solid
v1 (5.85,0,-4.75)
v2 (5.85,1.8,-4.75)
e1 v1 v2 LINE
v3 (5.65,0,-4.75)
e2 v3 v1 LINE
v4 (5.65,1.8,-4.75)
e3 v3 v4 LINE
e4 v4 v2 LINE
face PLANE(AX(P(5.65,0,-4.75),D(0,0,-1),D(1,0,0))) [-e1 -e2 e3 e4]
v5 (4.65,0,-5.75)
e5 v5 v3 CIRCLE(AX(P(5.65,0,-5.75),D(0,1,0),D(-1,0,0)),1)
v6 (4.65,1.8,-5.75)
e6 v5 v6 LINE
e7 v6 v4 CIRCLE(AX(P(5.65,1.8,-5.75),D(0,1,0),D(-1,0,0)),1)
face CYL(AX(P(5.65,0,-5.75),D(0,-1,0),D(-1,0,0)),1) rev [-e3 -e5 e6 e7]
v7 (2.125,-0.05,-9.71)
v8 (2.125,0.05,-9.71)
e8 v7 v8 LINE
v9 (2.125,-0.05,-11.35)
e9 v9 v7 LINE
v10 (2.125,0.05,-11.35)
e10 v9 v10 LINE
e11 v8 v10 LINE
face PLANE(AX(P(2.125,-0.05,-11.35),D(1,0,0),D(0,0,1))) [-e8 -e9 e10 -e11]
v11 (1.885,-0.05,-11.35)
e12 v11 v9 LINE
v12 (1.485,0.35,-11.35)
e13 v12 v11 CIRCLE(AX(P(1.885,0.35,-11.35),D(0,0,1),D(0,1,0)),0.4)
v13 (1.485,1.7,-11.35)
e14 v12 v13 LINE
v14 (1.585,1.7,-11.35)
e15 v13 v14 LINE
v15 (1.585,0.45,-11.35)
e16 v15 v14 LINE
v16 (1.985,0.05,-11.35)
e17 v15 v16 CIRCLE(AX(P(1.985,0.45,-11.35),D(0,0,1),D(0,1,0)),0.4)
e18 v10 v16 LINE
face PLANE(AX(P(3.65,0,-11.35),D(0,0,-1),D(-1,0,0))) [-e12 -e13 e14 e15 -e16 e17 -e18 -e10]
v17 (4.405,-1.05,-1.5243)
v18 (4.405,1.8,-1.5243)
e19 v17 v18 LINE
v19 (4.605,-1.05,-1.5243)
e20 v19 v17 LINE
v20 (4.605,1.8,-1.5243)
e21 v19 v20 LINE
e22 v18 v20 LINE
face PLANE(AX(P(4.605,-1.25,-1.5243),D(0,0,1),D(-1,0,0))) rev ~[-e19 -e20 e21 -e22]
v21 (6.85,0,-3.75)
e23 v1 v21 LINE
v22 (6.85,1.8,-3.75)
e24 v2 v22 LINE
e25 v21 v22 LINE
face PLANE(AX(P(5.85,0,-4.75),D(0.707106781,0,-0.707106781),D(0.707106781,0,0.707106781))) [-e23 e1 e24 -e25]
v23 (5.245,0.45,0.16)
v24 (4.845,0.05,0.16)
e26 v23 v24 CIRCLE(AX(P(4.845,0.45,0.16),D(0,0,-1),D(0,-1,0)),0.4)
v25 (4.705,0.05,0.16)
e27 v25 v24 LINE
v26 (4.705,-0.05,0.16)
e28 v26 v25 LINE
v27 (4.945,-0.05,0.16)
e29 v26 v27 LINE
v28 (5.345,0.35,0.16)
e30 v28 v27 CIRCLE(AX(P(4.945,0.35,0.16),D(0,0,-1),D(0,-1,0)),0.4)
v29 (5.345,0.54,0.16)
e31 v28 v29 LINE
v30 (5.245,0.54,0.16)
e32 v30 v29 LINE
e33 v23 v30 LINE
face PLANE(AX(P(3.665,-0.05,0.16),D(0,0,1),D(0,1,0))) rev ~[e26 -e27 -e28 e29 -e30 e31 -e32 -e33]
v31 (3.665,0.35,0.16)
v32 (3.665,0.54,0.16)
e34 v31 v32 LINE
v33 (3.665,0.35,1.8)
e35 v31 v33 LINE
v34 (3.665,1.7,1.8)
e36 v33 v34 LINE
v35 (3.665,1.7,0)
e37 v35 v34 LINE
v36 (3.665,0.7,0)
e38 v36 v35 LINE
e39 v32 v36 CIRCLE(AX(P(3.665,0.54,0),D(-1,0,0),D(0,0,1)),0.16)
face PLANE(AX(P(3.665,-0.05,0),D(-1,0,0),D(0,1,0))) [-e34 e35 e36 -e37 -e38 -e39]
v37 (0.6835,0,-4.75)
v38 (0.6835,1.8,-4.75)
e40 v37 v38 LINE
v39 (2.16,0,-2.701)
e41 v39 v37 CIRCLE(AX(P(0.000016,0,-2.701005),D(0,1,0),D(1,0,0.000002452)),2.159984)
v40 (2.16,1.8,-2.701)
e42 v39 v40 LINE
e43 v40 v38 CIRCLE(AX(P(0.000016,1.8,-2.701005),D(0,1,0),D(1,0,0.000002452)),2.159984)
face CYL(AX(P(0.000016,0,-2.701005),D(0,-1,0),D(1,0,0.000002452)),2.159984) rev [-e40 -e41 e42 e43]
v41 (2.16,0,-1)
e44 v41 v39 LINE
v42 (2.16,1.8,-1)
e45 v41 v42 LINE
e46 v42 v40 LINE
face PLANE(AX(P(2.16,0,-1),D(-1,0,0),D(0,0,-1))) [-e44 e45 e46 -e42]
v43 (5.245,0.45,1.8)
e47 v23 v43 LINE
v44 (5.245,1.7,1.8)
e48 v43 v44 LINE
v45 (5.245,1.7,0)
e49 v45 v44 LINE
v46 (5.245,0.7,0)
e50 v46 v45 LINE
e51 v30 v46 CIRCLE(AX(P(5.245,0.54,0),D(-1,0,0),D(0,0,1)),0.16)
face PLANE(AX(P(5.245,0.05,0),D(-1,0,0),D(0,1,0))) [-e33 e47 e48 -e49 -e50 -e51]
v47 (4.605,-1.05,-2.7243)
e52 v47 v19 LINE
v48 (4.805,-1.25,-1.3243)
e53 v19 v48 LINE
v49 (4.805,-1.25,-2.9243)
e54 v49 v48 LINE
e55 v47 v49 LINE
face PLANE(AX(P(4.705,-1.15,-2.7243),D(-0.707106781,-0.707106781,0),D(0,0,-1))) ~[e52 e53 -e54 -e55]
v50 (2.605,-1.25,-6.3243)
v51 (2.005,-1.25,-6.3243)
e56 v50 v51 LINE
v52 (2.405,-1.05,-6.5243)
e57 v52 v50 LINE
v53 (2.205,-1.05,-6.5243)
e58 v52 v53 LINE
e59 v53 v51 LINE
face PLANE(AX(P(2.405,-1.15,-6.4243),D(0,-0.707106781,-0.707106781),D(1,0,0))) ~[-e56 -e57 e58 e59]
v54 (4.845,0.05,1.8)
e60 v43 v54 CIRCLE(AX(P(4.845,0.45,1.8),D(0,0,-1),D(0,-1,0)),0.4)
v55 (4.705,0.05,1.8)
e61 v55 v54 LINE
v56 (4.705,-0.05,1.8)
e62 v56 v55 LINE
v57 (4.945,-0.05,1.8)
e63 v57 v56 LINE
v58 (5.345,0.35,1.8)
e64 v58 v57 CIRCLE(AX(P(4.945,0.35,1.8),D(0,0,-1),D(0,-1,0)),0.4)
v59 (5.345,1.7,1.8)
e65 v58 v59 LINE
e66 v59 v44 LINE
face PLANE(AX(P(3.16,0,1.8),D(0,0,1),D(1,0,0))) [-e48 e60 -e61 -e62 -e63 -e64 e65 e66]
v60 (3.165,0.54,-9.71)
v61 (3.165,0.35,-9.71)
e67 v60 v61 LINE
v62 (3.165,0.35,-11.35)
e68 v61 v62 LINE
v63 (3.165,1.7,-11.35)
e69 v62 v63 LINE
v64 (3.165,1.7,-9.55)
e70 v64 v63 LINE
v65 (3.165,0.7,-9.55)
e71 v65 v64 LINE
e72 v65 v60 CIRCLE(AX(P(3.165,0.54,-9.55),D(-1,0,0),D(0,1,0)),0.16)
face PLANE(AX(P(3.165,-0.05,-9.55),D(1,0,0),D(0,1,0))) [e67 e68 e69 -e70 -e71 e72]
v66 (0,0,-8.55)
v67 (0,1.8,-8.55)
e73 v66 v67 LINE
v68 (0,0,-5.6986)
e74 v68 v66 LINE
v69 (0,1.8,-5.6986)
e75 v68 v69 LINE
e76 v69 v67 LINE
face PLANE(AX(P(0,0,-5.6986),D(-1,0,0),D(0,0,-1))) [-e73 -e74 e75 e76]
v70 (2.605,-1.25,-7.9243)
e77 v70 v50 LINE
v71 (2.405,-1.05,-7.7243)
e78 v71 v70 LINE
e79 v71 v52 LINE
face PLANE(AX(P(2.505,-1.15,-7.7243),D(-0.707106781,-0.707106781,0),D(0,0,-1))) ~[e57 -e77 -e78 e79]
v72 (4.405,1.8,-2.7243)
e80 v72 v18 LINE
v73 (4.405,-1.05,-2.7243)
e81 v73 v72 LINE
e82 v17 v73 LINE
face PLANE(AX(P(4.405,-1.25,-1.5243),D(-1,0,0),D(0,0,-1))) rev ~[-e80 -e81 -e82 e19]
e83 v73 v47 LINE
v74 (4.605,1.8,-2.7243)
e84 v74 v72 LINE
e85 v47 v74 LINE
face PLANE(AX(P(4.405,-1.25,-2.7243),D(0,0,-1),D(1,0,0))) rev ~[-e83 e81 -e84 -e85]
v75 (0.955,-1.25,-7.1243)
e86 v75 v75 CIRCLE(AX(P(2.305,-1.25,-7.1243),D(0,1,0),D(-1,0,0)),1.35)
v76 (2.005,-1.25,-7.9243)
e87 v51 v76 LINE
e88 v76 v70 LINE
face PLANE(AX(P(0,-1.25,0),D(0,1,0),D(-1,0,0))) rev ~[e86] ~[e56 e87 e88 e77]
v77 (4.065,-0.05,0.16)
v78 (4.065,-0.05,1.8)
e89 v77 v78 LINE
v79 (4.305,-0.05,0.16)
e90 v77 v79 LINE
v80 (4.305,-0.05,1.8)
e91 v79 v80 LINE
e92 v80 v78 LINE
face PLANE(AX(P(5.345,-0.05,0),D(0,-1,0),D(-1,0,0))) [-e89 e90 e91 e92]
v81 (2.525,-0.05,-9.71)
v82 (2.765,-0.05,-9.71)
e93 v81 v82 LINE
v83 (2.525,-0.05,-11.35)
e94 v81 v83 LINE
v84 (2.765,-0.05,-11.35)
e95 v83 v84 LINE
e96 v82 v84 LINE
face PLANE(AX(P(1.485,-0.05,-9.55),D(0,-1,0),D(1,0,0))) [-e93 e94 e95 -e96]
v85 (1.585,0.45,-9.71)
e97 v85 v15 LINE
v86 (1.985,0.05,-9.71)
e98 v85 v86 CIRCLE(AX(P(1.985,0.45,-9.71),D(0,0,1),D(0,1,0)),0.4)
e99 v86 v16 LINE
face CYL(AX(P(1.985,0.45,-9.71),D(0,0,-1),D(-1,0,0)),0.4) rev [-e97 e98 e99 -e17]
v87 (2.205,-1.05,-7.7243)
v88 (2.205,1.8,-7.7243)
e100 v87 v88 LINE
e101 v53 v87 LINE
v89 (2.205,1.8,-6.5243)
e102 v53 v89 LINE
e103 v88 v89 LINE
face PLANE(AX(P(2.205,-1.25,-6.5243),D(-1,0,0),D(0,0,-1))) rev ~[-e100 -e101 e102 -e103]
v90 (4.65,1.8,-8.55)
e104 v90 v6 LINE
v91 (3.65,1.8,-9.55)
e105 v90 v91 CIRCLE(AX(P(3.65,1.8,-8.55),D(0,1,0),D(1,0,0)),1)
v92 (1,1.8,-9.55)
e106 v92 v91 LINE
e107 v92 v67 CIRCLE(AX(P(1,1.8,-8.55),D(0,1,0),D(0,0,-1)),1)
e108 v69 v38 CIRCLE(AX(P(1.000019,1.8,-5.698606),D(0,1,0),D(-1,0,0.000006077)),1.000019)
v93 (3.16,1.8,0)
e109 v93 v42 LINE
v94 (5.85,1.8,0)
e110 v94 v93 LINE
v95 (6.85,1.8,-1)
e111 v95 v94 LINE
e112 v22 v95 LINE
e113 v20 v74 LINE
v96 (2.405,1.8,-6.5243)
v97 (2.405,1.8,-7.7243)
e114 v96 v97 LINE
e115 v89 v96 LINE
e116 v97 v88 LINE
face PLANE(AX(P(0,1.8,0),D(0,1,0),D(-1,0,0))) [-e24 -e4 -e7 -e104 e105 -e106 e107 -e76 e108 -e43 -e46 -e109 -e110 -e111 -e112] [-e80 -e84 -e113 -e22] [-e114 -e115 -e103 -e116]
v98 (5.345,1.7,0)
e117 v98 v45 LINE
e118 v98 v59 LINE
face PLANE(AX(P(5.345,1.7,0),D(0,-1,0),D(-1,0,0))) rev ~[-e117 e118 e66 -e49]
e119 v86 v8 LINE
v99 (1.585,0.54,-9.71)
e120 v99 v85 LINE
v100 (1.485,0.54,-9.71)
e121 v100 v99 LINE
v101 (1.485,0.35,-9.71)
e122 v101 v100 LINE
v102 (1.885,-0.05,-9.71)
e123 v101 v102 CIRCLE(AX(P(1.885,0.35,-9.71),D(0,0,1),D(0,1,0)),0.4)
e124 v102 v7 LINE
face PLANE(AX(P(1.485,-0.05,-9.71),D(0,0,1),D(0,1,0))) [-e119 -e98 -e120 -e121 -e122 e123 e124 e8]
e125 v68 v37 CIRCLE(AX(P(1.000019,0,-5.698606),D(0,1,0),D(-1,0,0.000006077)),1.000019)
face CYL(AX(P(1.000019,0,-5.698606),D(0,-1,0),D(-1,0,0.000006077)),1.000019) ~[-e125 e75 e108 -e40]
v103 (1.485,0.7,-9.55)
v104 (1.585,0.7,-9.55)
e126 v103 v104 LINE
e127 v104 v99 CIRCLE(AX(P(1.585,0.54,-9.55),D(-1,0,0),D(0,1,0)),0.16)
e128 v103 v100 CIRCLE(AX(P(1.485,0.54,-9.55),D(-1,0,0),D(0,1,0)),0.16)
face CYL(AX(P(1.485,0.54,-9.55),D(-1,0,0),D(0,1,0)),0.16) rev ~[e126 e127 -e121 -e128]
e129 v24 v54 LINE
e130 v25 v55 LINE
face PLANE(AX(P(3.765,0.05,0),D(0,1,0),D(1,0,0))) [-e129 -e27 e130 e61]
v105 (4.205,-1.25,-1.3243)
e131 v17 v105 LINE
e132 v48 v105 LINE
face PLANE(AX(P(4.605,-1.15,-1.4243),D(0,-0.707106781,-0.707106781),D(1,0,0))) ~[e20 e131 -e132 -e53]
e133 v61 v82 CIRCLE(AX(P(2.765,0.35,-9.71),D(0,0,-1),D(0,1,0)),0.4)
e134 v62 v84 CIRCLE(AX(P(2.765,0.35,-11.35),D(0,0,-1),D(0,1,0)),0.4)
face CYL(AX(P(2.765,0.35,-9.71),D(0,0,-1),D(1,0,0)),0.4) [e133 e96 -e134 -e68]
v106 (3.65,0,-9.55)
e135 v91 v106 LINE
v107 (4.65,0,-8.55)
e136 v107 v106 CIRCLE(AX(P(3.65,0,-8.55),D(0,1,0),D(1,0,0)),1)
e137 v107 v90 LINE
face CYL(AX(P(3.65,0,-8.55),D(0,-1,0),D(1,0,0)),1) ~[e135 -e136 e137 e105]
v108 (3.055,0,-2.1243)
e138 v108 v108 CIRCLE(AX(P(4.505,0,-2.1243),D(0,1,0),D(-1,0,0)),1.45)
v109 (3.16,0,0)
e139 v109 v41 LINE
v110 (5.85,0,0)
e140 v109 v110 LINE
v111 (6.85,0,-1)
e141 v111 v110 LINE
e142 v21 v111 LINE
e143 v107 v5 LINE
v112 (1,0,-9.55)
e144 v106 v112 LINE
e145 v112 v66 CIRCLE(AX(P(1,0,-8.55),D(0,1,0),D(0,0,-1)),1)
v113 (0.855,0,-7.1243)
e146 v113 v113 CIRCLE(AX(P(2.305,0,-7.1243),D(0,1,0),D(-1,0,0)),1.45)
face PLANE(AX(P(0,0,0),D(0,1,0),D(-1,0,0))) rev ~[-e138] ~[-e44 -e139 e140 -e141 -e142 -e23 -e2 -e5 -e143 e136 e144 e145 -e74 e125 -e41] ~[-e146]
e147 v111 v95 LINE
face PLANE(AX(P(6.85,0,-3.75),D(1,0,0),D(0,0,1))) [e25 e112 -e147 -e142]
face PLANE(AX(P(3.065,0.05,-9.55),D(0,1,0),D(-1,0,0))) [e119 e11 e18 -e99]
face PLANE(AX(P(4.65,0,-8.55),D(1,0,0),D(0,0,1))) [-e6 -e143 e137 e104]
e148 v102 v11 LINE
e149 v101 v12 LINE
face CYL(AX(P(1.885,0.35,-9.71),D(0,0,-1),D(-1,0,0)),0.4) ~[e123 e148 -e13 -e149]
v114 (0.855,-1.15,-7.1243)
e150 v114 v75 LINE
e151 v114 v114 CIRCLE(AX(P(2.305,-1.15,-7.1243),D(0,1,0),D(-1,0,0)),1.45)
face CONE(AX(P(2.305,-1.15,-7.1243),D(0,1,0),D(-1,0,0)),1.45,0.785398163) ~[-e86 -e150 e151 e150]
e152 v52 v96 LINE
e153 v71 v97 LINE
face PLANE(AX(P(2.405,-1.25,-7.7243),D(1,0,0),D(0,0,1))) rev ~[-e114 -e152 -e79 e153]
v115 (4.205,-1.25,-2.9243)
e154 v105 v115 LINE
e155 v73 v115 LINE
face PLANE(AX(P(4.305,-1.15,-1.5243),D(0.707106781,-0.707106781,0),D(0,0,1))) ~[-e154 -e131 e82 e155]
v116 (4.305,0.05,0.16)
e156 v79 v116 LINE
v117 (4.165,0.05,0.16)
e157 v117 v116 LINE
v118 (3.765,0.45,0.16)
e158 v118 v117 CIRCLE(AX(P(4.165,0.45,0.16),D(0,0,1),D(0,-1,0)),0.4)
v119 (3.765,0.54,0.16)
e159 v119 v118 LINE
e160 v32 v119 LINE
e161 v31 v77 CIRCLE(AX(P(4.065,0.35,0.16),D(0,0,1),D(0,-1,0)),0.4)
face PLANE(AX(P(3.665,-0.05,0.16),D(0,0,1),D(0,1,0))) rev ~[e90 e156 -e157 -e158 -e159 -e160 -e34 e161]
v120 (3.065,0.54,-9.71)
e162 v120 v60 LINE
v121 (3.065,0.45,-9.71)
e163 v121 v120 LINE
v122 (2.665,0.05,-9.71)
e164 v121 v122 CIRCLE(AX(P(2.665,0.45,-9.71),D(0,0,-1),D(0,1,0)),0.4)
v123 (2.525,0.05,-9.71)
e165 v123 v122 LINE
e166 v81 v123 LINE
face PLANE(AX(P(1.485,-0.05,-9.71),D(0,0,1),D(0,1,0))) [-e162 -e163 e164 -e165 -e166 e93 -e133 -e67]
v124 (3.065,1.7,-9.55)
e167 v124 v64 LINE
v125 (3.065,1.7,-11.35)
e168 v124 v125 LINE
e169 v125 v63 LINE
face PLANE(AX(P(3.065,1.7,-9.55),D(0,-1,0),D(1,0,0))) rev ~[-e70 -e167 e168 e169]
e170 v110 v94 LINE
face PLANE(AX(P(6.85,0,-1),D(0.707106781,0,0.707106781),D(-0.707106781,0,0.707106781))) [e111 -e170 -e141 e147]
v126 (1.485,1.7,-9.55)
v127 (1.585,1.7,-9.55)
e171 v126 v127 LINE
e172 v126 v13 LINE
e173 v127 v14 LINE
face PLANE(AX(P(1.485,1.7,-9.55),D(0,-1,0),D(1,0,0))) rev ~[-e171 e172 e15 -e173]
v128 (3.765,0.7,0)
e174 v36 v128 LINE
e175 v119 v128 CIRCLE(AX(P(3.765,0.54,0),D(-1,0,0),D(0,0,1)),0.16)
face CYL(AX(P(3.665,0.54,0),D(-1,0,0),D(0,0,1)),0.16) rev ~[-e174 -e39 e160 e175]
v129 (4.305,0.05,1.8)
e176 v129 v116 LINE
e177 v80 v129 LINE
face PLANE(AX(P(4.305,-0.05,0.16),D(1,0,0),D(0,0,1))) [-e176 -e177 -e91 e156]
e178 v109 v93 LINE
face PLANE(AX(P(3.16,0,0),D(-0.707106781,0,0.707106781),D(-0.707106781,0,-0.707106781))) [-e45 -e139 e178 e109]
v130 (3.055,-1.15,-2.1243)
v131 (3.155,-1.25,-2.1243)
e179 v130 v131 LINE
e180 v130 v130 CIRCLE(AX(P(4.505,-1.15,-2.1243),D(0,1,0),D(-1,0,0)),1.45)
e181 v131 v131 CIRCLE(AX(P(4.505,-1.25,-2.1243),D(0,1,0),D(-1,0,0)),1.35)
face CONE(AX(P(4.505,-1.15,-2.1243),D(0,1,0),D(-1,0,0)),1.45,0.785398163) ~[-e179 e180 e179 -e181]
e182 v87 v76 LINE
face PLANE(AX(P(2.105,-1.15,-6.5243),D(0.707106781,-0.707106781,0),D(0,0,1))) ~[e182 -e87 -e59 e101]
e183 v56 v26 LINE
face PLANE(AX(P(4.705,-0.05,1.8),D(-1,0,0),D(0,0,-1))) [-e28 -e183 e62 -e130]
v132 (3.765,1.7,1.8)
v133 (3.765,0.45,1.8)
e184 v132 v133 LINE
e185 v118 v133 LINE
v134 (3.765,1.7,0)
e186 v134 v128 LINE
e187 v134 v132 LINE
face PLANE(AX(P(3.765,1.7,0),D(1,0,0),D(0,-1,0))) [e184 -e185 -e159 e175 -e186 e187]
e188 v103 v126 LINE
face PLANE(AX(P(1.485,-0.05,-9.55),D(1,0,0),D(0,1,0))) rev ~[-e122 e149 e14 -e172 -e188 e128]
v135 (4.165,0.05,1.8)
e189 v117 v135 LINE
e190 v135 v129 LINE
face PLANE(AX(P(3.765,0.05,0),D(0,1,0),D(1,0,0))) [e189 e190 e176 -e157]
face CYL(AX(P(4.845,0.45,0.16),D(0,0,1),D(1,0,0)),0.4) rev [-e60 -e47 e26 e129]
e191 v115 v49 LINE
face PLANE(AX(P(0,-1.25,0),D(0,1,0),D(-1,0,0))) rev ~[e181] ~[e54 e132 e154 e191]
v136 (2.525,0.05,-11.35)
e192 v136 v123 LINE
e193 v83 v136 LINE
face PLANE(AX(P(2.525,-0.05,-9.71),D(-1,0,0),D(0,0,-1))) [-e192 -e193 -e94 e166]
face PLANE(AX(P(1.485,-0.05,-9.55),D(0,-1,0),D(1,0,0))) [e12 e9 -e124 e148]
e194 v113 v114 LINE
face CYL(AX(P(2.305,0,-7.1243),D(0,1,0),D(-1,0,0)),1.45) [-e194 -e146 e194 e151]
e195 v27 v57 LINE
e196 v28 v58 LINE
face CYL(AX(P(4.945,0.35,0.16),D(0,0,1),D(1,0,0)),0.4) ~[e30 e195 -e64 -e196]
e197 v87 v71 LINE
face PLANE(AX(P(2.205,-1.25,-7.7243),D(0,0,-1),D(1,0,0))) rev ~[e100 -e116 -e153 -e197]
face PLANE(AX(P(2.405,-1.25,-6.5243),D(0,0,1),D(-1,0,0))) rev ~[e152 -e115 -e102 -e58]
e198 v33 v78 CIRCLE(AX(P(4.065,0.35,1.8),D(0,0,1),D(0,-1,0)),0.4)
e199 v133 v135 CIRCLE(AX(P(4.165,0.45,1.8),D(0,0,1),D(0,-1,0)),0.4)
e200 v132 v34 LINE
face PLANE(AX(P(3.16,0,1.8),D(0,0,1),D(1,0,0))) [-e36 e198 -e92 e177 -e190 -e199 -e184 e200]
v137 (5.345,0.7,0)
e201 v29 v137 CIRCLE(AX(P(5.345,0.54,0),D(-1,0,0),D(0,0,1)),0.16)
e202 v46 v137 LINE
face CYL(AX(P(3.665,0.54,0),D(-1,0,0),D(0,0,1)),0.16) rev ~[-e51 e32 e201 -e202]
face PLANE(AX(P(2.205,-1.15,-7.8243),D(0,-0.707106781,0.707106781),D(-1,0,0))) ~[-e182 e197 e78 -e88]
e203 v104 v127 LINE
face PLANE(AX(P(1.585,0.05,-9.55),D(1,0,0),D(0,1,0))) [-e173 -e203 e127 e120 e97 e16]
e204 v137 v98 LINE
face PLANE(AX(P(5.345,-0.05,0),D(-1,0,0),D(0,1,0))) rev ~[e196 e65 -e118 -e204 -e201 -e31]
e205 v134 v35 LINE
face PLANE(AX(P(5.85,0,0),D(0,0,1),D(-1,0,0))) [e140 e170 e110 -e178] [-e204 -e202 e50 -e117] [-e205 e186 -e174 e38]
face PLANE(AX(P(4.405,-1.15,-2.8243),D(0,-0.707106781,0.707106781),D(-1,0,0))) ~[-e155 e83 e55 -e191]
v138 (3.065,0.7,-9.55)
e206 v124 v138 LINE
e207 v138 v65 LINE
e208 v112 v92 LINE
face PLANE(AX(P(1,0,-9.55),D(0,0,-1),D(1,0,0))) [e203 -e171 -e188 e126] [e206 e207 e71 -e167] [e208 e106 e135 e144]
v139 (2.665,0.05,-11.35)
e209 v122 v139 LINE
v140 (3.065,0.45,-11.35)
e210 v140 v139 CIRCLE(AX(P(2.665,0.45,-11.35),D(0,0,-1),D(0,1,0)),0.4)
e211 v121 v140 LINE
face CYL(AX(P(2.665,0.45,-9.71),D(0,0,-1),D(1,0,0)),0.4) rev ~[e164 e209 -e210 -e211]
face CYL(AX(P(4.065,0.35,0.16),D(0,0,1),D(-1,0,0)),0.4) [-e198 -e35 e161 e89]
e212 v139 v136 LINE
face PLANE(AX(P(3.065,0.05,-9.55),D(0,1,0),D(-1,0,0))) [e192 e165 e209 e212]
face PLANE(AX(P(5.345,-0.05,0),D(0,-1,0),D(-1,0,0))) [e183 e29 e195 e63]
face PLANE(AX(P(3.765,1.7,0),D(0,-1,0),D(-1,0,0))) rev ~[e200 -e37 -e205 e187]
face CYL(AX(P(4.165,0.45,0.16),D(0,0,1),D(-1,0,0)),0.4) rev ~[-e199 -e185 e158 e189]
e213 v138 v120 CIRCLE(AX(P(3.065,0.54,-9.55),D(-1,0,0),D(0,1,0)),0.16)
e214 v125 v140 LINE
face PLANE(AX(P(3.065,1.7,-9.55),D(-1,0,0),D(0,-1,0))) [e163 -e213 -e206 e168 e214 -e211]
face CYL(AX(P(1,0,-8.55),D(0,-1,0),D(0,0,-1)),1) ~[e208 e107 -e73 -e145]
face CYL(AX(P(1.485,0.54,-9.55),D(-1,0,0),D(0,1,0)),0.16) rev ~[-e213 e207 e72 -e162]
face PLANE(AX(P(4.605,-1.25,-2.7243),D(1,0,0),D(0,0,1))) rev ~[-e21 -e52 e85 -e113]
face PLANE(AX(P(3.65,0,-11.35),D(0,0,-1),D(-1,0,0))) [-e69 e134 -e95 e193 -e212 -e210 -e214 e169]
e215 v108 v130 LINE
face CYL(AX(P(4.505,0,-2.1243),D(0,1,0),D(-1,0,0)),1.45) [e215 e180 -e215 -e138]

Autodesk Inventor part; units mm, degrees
ref_plane "YZ Plane" through (0, 0, 0) normal (1, 0, 0) x (0, 1, 0)
ref_plane "XZ Plane" through (0, 0, 0) normal (0, 1, 0) x (-1, 0, 0)
ref_plane "XY Plane" through (0, 0, 0) normal (0, 0, 1) x (1, 0, 0)
sketch "Sketch1" plane through (0, 0, 0) normal (0, 1, 0) x (-1, 0, 0)
  line L0 (0, 0) -> (-3.16, 0)
  line L1 (-3.16, 0) -> (-2.16, -1)
  line L2 (-2.16, -1) -> (-2.16, -2.701)
  arc A0 (-2.16, -2.701) -> (-0.6835, -4.75) centre (0, -2.701) ccw
  line L3 (0, -5.6986) -> (0, -8.55)
  line L4 (-1, -9.55) -> (-3.65, -9.55)
  line L5 (-4.65, -8.55) -> (-4.65, -5.75)
  line L6 (-5.65, -4.75) -> (-5.85, -4.75)
  line L7 (-5.85, -4.75) -> (-6.85, -3.75)
  line L8 (-6.85, -3.75) -> (-6.85, -1)
  line L9 (-6.85, -1) -> (-5.85, 0)
  line L10 (-5.85, 0) -> (-3.16, 0)
  circle A1 centre (-4.505, -2.1243) radius 1.45
  circle A2 centre (-2.305, -7.1243) radius 1.45
  arc A3 (0, -5.6986) -> (-0.6835, -4.75) centre (-1, -5.6986) ccw
  arc A4 (-4.65, -5.75) -> (-5.65, -4.75) centre (-5.65, -5.75) ccw
  arc A5 (-1, -9.55) -> (0, -8.55) centre (-1, -8.55) ccw
  arc A6 (-4.65, -8.55) -> (-3.65, -9.55) centre (-3.65, -8.55) ccw
  point P0 (0, -4.861)
  point P1 (-4.65, -7.15)
  point P2 (-4.505, 0)
  point P3 (-5.75, -4.75)
  point P4 (0, -7.1243)
  dimension "d0" = 5
  dimension "d1" = 2.2
  dimension "d2" = 2.9
  dimension "d3" = 4.75
  dimension "d4" = 4.65
  dimension "d6" = 4.69
  dimension "d8" = 6.85
  dimension "d9" = 9.55
  dimension "d10" = 135
  dimension "d11" = 135
  dimension "d12" = 135
  dimension "d13" = 1
  dimension "d14" = 1
  dimension "d70" = 2.75
extrude "Extrusion1" add sketch "Sketch1" along normal blind 1.8 contours L1 L2 A0 A3 L3 A5 L4 A6 L5 A4 L6 L7 L8 L9 L10 | A1 | A2
extrude "Extrusion2" add sketch "Sketch1" against normal blind 1.25 contours A1 | A2
chamfer "Chamfer1" distance 0.1 angle 45 2 edges at (5.955, -1.25, -2.1243) (3.755, -1.25, -7.1243)
sketch "Sketch2" plane through (3.16, 0, 0) normal (0, 0, 1) x (1, 0, 0)
  line L0 (1.49, 1.8) -> (2.49, 1.8) projected
  line L1 (2.185, -0.05) -> (0.505, -0.05)
  line L2 (0.49, 0) -> (0.49, 1.8) projected
  line L3 (2.69, 0) -> (2.69, 1.8) projected
  line L4 (0, 0) -> (0, 1.8) projected
  line L5 (0, 1.8) -> (2.69, 1.8) projected
  line L6 (2.185, -0.05) -> (2.185, 1.7)
  line L7 (0.505, -0.05) -> (0.505, 1.7)
  line L8 (0.605, 1.7) -> (0.605, 0.05)
  line L9 (0.605, 0.05) -> (2.085, 0.05)
  line L10 (2.085, 0.05) -> (2.085, 1.7)
  line L11 (2.185, 1.7) -> (2.085, 1.7)
  line L12 (0.605, 1.7) -> (0.505, 1.7)
  point P0 (-3.16, 0)
  dimension "d24" = 1.68
  dimension "d26" = 1.85
  dimension "d27" = 0.1
  dimension "d28" = 0.505
  dimension "d29" = 0.505
  dimension "d30" = 0.1
  dimension "d31" = 0.1
extrude "Extrusion3" add sketch "Sketch2" along normal blind 1.8
sketch "Sketch3" plane through (3.665, 0, 0) normal (-1, 0, 0) x (0, 0, 1)
  line L0 (0, -0.05) -> (1.8, -0.05) projected
  line L1 (0.16, -0.05) -> (0.16, 0.54)
  line L2 (0, 0) -> (0, 1.7) projected
  arc A0 (0.16, 0.54) -> (0, 0.7) centre (0, 0.54) ccw
  line L3 (0, 0) -> (0, 1.8) projected
  line L4 (0, 0) -> (0, 1.7) projected
  line L5 (0, 0) -> (0, -0.05) projected
  line L6 (0, -0.05) -> (1.8, -0.05) projected
  line L7 (1.8, 1.7) -> (1.8, -0.05) projected
  line L8 (0, 1.7) -> (1.8, 1.7) projected
  point P0 (0, 0)
  point P1 (0, -0.05)
  dimension "d34" = 0.16
  dimension "d54" = 0.75
extrude "Extrusion4" cut sketch "Sketch3" against normal through all contours L5 L2 A0 L1 L0
sketch "Sketch4" plane through (3.65, 0, -9.55) normal (0, 0, -1) x (-1, 0, 0)
  line L0 (2.165, -0.05) -> (0.485, -0.05)
  line L1 (2.165, -0.05) -> (2.165, 1.7)
  line L2 (0.485, -0.05) -> (0.485, 1.7)
  line L3 (0.585, 1.7) -> (0.585, 0.05)
  line L4 (0.585, 0.05) -> (2.065, 0.05)
  line L5 (2.065, 0.05) -> (2.065, 1.7)
  line L6 (2.165, 1.7) -> (2.065, 1.7)
  line L7 (0.585, 1.7) -> (0.485, 1.7)
  line L8 (2.65, 0) -> (2.65, 1.8) projected
  line L9 (0, 1.8) -> (2.65, 1.8) projected
  line L10 (0, 0) -> (0, 1.8) projected
  point P0 (3.65, 0)
  dimension "d37" = 1.68
  dimension "d42" = 0.1
  dimension "d43" = 0.1
  dimension "d44" = 0.485
  dimension "d45" = 0.485
  dimension "d46" = 1.85
  dimension "d47" = 0.1
extrude "Extrusion5" add sketch "Sketch4" along normal blind 1.8
sketch "Sketch5" plane through (1.485, 0, -9.55) normal (-1, 0, 0) x (0, 0, 1)
  line L0 (0, -0.05) -> (0, 0) projected
  line L1 (0, 1.7) -> (0, 0) projected
  line L2 (0, 1.7) -> (-1.8, 1.7) projected
  line L3 (-1.8, -0.05) -> (-1.8, 1.7) projected
  line L4 (0, -0.05) -> (-1.8, -0.05) projected
  line L5 (-0.16, -0.05) -> (-0.16, 0.54)
  arc A0 (0, 0.7) -> (-0.16, 0.54) centre (0, 0.54) ccw
  point P0 (9.55, 0)
  point P1 (-1.867, -0.613)
  point P2 (-1.867, -0.6608)
  point P3 (0, -0.025)
  dimension "d51" = 0.16
  dimension "d55" = 0.75
extrude "Extrusion6" cut sketch "Sketch5" against normal through all contours L4 L5 A0 L1 L0
sketch "Sketch6" plane through (4.505, -1.25, -2.1243) normal (0, -1, 0) x (1, 0, 0)
  line L0 (0.1, 0.6) -> (-0.1, 0.6)
  line L1 (-0.1, 0.6) -> (-0.1, -0.6)
  line L2 (-0.1, -0.6) -> (0.1, -0.6)
  line L3 (0.1, -0.6) -> (0.1, 0.6)
  line L4 (-2.1, -4.4) -> (-2.3, -4.4)
  line L5 (-2.3, -4.4) -> (-2.3, -5.6)
  line L6 (-2.3, -5.6) -> (-2.1, -5.6)
  line L7 (-2.1, -5.6) -> (-2.1, -4.4)
  circle A0 centre (0, 0) radius 1.35 projected
  circle A1 centre (-2.2, -5) radius 1.35 projected
  point P0 (-4.505, 2.1243)
  point P1 (0.1, 0)
  point P2 (0, 0.6)
  point P3 (-2.1, -5)
  point P4 (-2.2, -4.4)
  dimension "d56" = 1.2
  dimension "d57" = 0.2
  dimension "d58" = 1.2
  dimension "d59" = 0.2
extrude "Extrusion7" cut sketch "Sketch6" against normal through all contours L3 L2 L1 L0 | L7 L6 L5 L4
chamfer "Chamfer2" distance 0.2 angle 45 8 edges at (4.605, -1.25, -2.1243) (4.505, -1.25, -1.5243) (4.405, -1.25, -2.1243) (4.505, -1.25, -2.7243) (2.405, -1.25, -7.1243) (2.305, -1.25, -6.5243) (2.205, -1.25, -7.1243) (2.305, -1.25, -7.7243)
fillet "Fillet1" radius 0.4 8 edges at (3.665, -0.05, 0.98) (5.345, -0.05, 0.98) (5.245, 0.05, 0.98) (3.765, 0.05, 0.98) (1.485, -0.05, -10.53) (3.165, -0.05, -10.53) (3.065, 0.05, -10.53) (1.585, 0.05, -10.53)
sketch "Sketch7" plane through (4.065, -0.05, 1.8) normal (0, -1, 0) x (1, 0, 0)
  line L0 (0.24, 0) -> (0.64, 0)
  line L1 (0.64, 0) -> (0.64, -1.64)
  line L2 (0.64, -1.64) -> (0.24, -1.64)
  line L3 (0.24, -1.64) -> (0.24, 0)
  line L4 (0, 0) -> (0.88, 0) projected
  line L5 (-1.94, -11.51) -> (-1.54, -11.51)
  line L6 (-1.54, -11.51) -> (-1.54, -13.15)
  line L7 (-1.54, -13.15) -> (-1.94, -13.15)
  line L8 (-1.94, -13.15) -> (-1.94, -11.51)
  line L9 (-1.3, -11.51) -> (-2.18, -11.51) projected
  line L10 (-1.3, -13.15) -> (-2.18, -13.15) projected
  line L11 (0, -1.64) -> (0.88, -1.64) projected
  point P0 (-4.065, -1.8)
  point P1 (0.44, 0)
  point P2 (0.44, 0)
  point P3 (-1.74, -11.51)
  point P4 (-1.74, -11.51)
  dimension "d66" = 0.4
  dimension "d67" = 0.4
extrude "Extrusion8" cut sketch "Sketch7" against normal through all
equation "\"d11\" = d10"
equation "\"d29\" = d28"
properties part number "Kailh Choc Hotswap Socket"
